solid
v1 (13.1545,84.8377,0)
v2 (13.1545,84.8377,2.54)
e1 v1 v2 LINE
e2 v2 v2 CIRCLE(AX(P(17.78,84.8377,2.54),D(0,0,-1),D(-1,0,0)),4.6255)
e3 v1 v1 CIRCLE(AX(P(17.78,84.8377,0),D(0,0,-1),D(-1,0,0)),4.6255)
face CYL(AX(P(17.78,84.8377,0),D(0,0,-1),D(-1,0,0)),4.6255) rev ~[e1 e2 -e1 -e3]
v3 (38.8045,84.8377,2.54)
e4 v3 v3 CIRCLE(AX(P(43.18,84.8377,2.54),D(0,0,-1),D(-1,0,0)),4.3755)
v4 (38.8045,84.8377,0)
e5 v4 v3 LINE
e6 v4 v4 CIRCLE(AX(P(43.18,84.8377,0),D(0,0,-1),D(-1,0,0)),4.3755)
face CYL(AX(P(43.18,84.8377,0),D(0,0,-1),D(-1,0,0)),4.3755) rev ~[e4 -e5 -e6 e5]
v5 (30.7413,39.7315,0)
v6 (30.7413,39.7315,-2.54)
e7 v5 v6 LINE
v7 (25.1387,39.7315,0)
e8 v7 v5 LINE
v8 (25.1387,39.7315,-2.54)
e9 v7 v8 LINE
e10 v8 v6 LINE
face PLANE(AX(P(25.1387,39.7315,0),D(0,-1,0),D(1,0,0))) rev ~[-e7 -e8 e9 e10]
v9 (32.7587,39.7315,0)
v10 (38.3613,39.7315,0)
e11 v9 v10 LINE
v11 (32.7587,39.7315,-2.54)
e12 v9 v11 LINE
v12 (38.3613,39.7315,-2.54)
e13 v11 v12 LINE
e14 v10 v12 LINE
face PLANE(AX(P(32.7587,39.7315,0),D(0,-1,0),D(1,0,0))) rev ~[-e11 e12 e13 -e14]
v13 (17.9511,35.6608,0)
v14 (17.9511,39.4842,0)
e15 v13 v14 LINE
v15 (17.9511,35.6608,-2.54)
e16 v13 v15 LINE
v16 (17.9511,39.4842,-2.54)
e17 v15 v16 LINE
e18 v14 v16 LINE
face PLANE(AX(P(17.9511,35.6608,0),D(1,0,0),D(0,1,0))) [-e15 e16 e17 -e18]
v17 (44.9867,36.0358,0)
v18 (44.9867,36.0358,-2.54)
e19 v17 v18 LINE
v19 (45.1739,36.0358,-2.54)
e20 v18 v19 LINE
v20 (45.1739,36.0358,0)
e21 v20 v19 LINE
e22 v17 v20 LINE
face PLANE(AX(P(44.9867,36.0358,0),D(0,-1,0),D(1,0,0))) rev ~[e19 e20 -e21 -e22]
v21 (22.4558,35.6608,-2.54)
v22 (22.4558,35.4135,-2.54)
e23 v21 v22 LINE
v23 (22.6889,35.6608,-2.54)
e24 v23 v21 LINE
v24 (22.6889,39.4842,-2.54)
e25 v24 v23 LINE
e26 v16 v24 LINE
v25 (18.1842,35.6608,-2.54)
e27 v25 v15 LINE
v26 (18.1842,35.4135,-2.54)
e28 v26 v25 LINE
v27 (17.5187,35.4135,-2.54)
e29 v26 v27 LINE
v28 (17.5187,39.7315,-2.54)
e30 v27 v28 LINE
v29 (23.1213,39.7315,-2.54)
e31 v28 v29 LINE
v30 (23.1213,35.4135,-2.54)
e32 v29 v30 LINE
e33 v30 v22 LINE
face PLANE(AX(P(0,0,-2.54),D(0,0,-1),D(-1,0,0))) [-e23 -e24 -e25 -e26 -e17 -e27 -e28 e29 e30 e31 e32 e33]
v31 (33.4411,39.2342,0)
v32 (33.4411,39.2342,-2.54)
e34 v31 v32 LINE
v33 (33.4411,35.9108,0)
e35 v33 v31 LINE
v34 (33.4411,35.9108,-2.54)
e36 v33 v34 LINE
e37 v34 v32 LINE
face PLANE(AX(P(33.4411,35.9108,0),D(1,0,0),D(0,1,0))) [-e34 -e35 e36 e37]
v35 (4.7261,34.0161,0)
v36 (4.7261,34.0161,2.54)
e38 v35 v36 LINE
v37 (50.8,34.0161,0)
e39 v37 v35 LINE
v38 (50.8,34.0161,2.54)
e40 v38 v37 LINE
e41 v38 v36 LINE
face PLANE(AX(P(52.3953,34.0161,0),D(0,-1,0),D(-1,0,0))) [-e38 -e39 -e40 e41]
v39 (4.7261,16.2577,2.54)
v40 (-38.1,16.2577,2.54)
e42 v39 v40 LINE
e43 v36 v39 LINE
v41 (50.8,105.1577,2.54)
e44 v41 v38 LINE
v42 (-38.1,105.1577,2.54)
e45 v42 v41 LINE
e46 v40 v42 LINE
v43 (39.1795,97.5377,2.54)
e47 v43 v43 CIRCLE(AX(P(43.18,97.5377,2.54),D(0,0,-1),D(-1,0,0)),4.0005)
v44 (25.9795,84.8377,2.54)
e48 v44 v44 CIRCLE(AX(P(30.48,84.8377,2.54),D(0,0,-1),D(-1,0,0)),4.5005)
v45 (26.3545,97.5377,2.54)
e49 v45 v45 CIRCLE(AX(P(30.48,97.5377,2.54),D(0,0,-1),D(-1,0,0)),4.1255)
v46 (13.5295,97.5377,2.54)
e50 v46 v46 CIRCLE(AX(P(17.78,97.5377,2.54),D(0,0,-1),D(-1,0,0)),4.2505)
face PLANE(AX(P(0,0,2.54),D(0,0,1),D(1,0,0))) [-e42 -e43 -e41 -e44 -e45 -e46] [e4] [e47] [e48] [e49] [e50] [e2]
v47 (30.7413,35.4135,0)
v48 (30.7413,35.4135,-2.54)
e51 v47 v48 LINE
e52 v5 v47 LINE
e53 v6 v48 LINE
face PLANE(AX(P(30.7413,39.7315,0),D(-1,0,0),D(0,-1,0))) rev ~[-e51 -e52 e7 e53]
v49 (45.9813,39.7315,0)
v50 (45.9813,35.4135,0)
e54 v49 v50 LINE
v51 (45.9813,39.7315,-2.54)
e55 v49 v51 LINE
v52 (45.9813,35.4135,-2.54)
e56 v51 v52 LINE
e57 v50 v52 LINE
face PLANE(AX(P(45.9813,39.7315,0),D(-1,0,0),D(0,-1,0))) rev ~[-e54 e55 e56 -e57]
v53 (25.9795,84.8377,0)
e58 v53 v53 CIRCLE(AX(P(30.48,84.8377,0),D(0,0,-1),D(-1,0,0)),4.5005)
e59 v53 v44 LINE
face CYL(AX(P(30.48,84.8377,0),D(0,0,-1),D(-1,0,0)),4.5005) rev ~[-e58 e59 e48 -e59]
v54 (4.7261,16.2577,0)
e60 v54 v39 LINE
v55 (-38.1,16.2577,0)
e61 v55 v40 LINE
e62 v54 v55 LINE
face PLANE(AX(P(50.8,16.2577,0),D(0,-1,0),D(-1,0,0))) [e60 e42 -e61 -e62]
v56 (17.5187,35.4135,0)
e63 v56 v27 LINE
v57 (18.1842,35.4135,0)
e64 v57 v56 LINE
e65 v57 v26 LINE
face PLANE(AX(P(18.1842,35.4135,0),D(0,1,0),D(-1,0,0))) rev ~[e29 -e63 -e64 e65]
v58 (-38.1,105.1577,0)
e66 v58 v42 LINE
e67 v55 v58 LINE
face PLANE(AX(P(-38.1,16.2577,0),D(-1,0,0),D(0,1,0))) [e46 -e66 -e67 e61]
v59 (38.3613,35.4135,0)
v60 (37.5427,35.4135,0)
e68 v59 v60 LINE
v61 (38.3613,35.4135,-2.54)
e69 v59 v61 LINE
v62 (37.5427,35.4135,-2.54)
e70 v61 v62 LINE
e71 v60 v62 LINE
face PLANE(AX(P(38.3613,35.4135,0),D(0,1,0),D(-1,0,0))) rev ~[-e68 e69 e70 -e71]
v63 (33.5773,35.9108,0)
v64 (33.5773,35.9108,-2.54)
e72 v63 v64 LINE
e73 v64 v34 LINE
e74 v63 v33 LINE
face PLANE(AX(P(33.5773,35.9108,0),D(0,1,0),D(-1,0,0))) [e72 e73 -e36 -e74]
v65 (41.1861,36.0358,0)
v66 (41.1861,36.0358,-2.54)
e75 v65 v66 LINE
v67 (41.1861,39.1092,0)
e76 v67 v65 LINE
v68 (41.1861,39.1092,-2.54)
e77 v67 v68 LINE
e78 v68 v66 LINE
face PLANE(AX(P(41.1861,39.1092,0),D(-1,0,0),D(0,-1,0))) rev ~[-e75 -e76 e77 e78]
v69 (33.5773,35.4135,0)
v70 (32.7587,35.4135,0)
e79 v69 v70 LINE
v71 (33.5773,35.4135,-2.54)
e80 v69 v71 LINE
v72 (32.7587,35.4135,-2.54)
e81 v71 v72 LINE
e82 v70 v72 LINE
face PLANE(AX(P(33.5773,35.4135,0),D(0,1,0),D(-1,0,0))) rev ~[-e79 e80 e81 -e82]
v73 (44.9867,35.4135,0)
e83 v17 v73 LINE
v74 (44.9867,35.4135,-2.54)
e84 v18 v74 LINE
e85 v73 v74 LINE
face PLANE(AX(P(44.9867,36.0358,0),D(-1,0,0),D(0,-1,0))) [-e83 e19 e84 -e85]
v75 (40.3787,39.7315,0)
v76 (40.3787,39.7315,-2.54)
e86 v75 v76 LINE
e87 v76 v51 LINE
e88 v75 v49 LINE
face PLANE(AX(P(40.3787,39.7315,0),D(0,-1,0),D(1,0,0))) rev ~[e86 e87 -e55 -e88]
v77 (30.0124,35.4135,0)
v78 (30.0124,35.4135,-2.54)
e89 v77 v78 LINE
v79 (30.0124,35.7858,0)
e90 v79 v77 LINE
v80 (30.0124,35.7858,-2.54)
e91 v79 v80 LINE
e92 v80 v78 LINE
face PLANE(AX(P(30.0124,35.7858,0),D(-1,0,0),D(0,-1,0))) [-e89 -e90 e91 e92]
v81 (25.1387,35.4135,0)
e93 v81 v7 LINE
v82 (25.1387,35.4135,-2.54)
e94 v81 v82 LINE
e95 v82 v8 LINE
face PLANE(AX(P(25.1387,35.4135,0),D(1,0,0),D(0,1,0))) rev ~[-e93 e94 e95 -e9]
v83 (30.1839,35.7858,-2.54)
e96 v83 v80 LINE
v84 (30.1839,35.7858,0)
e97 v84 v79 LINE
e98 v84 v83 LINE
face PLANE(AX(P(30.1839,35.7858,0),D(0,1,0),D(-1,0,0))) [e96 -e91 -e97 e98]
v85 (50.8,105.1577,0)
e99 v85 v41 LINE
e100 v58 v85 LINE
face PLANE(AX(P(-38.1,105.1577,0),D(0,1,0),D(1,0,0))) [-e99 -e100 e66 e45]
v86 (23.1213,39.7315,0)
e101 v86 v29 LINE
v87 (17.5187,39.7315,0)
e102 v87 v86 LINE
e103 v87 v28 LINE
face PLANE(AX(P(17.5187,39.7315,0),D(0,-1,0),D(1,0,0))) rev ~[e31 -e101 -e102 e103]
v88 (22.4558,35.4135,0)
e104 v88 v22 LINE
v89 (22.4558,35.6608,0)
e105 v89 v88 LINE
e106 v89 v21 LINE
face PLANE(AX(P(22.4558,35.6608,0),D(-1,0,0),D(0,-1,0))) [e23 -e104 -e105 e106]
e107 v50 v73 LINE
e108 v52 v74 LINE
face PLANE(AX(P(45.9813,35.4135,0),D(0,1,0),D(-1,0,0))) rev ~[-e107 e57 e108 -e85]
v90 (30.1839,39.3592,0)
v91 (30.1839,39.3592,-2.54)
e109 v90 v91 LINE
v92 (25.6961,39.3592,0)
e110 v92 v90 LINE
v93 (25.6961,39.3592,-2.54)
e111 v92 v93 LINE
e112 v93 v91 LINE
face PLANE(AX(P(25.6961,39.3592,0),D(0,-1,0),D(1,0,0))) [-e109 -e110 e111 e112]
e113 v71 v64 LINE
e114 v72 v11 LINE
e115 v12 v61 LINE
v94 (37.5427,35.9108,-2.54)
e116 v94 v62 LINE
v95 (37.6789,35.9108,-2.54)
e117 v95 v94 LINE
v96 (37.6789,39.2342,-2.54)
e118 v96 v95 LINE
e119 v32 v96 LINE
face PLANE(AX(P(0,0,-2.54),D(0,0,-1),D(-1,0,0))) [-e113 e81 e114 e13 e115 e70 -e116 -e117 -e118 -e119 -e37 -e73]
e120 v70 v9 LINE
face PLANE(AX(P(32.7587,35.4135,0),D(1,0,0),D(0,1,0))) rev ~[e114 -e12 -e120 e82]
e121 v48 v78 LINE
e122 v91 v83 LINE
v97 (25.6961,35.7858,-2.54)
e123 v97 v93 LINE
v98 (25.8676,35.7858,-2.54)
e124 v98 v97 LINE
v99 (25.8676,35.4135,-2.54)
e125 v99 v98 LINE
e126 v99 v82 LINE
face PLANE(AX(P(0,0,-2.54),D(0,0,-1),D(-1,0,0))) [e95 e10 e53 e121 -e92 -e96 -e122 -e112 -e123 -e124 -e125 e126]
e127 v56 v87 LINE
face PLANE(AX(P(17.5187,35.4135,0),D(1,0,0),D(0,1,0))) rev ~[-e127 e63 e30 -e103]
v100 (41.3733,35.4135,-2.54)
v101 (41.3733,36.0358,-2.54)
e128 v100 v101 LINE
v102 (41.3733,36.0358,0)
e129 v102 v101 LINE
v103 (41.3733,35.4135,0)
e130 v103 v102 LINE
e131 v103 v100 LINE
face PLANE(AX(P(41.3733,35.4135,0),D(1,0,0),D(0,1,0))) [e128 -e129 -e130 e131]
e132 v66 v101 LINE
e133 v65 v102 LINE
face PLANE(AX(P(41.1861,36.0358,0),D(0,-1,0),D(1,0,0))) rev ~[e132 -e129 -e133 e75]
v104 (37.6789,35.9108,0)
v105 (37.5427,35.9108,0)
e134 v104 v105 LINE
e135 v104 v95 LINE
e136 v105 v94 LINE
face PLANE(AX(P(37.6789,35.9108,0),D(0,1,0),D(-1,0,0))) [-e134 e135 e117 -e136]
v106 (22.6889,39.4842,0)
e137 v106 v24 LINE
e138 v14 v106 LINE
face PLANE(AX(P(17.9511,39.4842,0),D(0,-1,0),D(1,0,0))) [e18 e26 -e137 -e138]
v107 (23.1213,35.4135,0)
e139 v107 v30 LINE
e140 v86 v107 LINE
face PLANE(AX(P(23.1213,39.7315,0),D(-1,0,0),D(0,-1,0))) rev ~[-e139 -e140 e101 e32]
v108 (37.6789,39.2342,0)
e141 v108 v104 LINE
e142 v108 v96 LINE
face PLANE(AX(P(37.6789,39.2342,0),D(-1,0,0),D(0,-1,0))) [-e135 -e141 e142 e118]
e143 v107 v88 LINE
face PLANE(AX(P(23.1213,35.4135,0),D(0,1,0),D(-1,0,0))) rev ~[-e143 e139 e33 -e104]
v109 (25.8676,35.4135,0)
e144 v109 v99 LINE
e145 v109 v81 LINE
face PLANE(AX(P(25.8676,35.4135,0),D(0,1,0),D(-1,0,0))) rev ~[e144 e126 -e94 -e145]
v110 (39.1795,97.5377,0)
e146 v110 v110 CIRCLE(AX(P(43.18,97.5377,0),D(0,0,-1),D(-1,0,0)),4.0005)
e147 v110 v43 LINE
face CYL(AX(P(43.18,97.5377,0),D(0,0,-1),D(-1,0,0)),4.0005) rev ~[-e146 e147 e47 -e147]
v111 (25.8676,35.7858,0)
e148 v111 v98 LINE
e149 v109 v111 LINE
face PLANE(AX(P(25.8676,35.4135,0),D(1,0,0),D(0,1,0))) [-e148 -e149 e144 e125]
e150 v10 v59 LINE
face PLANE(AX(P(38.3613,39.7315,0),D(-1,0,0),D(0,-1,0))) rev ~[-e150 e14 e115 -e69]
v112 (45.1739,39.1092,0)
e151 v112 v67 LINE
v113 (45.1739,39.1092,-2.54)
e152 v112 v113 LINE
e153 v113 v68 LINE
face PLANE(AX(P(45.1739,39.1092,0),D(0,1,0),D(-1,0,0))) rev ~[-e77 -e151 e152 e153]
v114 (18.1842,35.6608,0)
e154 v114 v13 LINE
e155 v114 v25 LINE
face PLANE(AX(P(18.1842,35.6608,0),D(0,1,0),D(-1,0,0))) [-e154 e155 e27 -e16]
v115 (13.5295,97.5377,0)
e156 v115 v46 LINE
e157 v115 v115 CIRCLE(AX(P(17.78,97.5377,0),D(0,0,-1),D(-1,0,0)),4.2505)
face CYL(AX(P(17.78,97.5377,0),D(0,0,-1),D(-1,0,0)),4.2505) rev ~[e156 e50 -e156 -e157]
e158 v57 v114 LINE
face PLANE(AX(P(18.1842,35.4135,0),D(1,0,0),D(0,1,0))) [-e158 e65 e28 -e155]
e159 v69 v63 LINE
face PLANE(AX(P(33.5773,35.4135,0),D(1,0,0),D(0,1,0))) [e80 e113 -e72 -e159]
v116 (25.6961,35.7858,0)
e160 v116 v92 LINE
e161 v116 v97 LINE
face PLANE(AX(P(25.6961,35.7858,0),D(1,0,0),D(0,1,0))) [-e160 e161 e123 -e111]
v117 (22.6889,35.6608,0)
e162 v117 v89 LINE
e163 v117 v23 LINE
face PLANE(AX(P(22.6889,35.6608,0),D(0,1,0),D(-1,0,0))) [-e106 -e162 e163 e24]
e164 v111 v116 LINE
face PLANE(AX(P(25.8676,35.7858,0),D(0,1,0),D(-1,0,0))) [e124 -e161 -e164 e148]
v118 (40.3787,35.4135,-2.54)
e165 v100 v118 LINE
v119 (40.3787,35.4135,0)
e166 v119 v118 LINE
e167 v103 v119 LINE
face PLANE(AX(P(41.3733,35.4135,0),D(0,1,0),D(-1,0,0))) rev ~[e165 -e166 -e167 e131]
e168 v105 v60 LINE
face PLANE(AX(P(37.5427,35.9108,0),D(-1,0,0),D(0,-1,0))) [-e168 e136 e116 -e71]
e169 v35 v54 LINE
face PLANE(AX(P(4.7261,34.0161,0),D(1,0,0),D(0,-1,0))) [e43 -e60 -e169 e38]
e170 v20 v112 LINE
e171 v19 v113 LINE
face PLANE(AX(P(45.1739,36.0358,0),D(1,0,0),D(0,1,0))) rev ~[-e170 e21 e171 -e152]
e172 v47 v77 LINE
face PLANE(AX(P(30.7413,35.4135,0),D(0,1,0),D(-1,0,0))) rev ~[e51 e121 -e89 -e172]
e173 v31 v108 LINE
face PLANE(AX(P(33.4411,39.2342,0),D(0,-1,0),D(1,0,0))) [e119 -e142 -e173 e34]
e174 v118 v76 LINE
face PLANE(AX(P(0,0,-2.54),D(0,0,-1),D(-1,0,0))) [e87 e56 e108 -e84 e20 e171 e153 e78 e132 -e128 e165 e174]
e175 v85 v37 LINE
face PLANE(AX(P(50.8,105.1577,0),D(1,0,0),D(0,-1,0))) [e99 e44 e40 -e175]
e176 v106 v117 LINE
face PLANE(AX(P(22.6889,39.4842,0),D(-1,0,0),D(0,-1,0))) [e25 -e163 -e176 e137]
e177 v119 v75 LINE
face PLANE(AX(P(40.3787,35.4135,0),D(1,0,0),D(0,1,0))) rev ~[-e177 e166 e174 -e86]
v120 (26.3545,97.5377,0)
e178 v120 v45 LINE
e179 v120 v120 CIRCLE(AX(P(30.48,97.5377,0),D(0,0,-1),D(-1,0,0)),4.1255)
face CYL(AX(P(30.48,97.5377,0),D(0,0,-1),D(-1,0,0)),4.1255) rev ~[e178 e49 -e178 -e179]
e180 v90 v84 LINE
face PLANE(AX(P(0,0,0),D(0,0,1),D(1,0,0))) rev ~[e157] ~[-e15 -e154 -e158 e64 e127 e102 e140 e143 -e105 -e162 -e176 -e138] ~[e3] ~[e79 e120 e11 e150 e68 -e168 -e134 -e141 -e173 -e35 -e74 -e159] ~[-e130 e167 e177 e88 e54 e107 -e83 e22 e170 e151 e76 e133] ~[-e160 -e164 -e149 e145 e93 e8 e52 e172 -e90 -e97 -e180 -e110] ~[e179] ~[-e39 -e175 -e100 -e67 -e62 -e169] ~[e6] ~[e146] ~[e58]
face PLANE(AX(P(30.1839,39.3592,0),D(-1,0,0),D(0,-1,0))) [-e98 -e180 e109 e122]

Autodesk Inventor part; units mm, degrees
ref_plane "YZ Plane" through (0, 0, 0) normal (1, 0, 0) x (0, 1, 0)
ref_plane "XZ Plane" through (0, 0, 0) normal (0, 1, 0) x (-1, 0, 0)
ref_plane "XY Plane" through (0, 0, 0) normal (0, 0, 1) x (1, 0, 0)
sketch "Sketch2" plane through (0, 0, 0) normal (0, 0, 1) x (1, 0, 0)
  line L0 (-38.1, 105.1577) -> (50.8, 105.1577)
  line L1 (50.8, 105.1577) -> (50.8, 16.2577)
  line L2 (50.8, 16.2577) -> (-38.1, 16.2577)
  line L3 (-38.1, 16.2577) -> (-38.1, 105.1577)
  point P0 (0, 0)
  dimension "d45" = 88.9
  dimension "d46" = 88.9
extrude "Extrusion1" add sketch "Sketch2" along normal blind 2.54
sketch "Sketch3" plane through (0, 0, 0) normal (0, 0, -1) x (-1, 0, 0)
  circle A0 centre (-43.18, 97.5377) radius 4.0005
  line L0 (-50.8, 16.2577) -> (-50.8, 105.1577) projected
  line L1 (-50.8, 105.1577) -> (38.1, 105.1577) projected
  circle A1 centre (-43.18, 97.5377) radius 5.2705
  line L2 (38.1, 105.1577) -> (38.1, 16.2577) projected
  line L3 (38.1, 16.2577) -> (-50.8, 16.2577) projected
  circle A2 centre (-43.18, 84.8377) radius 5.2705
  circle A3 centre (-30.48, 97.5377) radius 5.2705
  circle A4 centre (-30.48, 84.8377) radius 5.2705
  circle A5 centre (-17.78, 97.5377) radius 5.2705
  circle A6 centre (-17.78, 84.8377) radius 5.2705
  line L4 (-45.1739, 77.2092) -> (-41.1861, 77.2092)
  line L5 (-41.1861, 77.2092) -> (-41.1861, 74.1358)
  line L6 (-41.1861, 74.1358) -> (-45.1739, 74.1358)
  line L7 (-45.1739, 74.1358) -> (-45.1739, 77.2092)
  line L8 (-45.1739, 77.2092) -> (-41.1861, 74.1358) construction
  line L9 (-41.1861, 77.2092) -> (-45.1739, 74.1358) construction
  line L10 (-45.9813, 73.5135) -> (-40.3787, 73.5135)
  line L11 (-40.3787, 73.5135) -> (-40.3787, 77.8315)
  line L12 (-40.3787, 77.8315) -> (-45.9813, 77.8315)
  line L13 (-45.9813, 77.8315) -> (-45.9813, 73.5135)
  line L14 (-45.9813, 73.5135) -> (-40.3787, 77.8315) construction
  line L15 (-40.3787, 73.5135) -> (-45.9813, 77.8315) construction
  circle A7 centre (-30.48, 97.5377) radius 4.1255
  circle A8 centre (-17.78, 97.5377) radius 4.2505
  circle A9 centre (-43.18, 84.8377) radius 4.3755
  circle A10 centre (-30.48, 84.8377) radius 4.5005
  circle A11 centre (-17.78, 84.8377) radius 4.6255
  line L16 (-32.7587, 77.8315) -> (-38.3613, 77.8315)
  line L17 (-38.3613, 77.8315) -> (-38.3613, 73.5135)
  line L18 (-38.3613, 73.5135) -> (-32.7587, 73.5135)
  line L19 (-32.7587, 73.5135) -> (-32.7587, 77.8315)
  line L20 (-25.1387, 77.8315) -> (-30.7413, 77.8315)
  line L21 (-30.7413, 77.8315) -> (-30.7413, 73.5135)
  line L22 (-30.7413, 73.5135) -> (-25.1387, 73.5135)
  line L23 (-25.1387, 73.5135) -> (-25.1387, 77.8315)
  line L24 (-17.5187, 77.8315) -> (-23.1213, 77.8315)
  line L25 (-23.1213, 77.8315) -> (-23.1213, 73.5135)
  line L26 (-23.1213, 73.5135) -> (-17.5187, 73.5135)
  line L27 (-17.5187, 73.5135) -> (-17.5187, 77.8315)
  line L28 (-9.8987, 77.8315) -> (-15.5013, 77.8315)
  line L29 (-15.5013, 77.8315) -> (-15.5013, 73.5135)
  line L30 (-15.5013, 73.5135) -> (-9.8987, 73.5135)
  line L31 (-9.8987, 73.5135) -> (-9.8987, 77.8315)
  line L32 (-37.6789, 74.0108) -> (-33.4411, 74.0108)
  line L33 (-33.4411, 74.0108) -> (-33.4411, 77.3342)
  line L34 (-33.4411, 77.3342) -> (-37.6789, 77.3342)
  line L35 (-37.6789, 77.3342) -> (-37.6789, 74.0108)
  line L36 (-37.6789, 74.0108) -> (-33.4411, 77.3342) construction
  line L37 (-33.4411, 74.0108) -> (-37.6789, 77.3342) construction
  line L38 (-30.1839, 73.8858) -> (-25.6961, 73.8858)
  line L39 (-25.6961, 73.8858) -> (-25.6961, 77.4592)
  line L40 (-25.6961, 77.4592) -> (-30.1839, 77.4592)
  line L41 (-30.1839, 77.4592) -> (-30.1839, 73.8858)
  line L42 (-30.1839, 73.8858) -> (-25.6961, 77.4592) construction
  line L43 (-25.6961, 73.8858) -> (-30.1839, 77.4592) construction
  line L44 (-22.6889, 73.7608) -> (-17.9511, 73.7608)
  line L45 (-17.9511, 73.7608) -> (-17.9511, 77.5842)
  line L46 (-17.9511, 77.5842) -> (-22.6889, 77.5842)
  line L47 (-22.6889, 77.5842) -> (-22.6889, 73.7608)
  line L48 (-22.6889, 73.7608) -> (-17.9511, 77.5842) construction
  line L49 (-17.9511, 73.7608) -> (-22.6889, 77.5842) construction
  line L50 (-45.1739, 73.4552) -> (-41.1861, 73.4552)
  line L51 (-41.1861, 73.4552) -> (-41.1861, 74.8164)
  line L52 (-41.1861, 74.8164) -> (-45.1739, 74.8164)
  line L53 (-45.1739, 74.8164) -> (-45.1739, 73.4552)
  line L54 (-45.1739, 73.4552) -> (-41.1861, 74.8164) construction
  line L55 (-41.1861, 73.4552) -> (-45.1739, 74.8164) construction
  point P0 (0, 0)
  point P1 (-43.18, 75.6725)
  point P2 (-43.18, 75.6725)
  point P3 (-35.56, 75.6725)
  point P4 (-27.94, 75.6725)
  point P5 (-20.32, 75.6725)
  point P6 (-12.7, 75.6725)
  point P7 (-43.18, 74.1358)
  dimension "d49" = 7.62
  dimension "d50" = 7.62
  dimension "d51" = 1.27
  dimension "d56" = 12.7
  dimension "d59" = 12.7
  dimension "d64" = 3.9878
  dimension "d65" = 3.0734
  dimension "d66" = 9.1652
  dimension "d67" = 2.159
  dimension "d77" = 8.001
  dimension "d78" = 8.251
  dimension "d80" = 8.501
  dimension "d81" = 8.751
  dimension "d82" = 9.001
  dimension "d83" = 9.251
  dimension "d90" = 7.62
  dimension "d95" = 4.2378
  dimension "d96" = 4.4878
  dimension "d97" = 4.7378
  dimension "d98" = 3.3234
  dimension "d99" = 3.5734
sketch "Sketch4" plane through (0, 0, 0) normal (0, 0, -1) x (-1, 0, 0)
  line L0 (-50.8, 105.1577) -> (38.1, 105.1577) projected
  line L1 (-50.8, 16.2577) -> (-50.8, 105.1577) projected
  line L2 (-50.8, 105.1577) -> (-48.5295, 105.1577)
  line L3 (-48.5295, 105.1577) -> (-48.5295, 103.1024)
  line L4 (-48.5295, 103.1024) -> (-50.8, 103.1024)
  line L5 (-50.8, 103.1024) -> (-50.8, 105.1577)
  point P0 (0, 0)
extrude "Extrusion4" cut sketch "Sketch3" against normal blind 9.001 contours A0 | A7 | A8 | A9 | A10 | A11
sketch "Sketch5" plane through (0, 0, 0) normal (0, 0, -1) x (-1, 0, 0)
  line L0 (-45.1739, 39.1092) -> (-41.1861, 39.1092)
  line L1 (-41.1861, 39.1092) -> (-41.1861, 36.0358)
  line L2 (-41.1861, 36.0358) -> (-45.1739, 36.0358)
  line L3 (-45.1739, 36.0358) -> (-45.1739, 39.1092)
  line L4 (-45.1739, 39.1092) -> (-41.1861, 36.0358) construction
  line L5 (-41.1861, 39.1092) -> (-45.1739, 36.0358) construction
  line L6 (-45.9813, 35.4135) -> (-40.3787, 35.4135)
  line L7 (-40.3787, 35.4135) -> (-40.3787, 39.7315)
  line L8 (-40.3787, 39.7315) -> (-45.9813, 39.7315)
  line L9 (-45.9813, 39.7315) -> (-45.9813, 35.4135)
  line L10 (-45.9813, 35.4135) -> (-40.3787, 39.7315) construction
  line L11 (-40.3787, 35.4135) -> (-45.9813, 39.7315) construction
  line L12 (-32.7587, 39.7315) -> (-38.3613, 39.7315)
  line L13 (-38.3613, 39.7315) -> (-38.3613, 35.4135)
  line L14 (-38.3613, 35.4135) -> (-32.7587, 35.4135)
  line L15 (-32.7587, 35.4135) -> (-32.7587, 39.7315)
  line L16 (-25.1387, 39.7315) -> (-30.7413, 39.7315)
  line L17 (-30.7413, 39.7315) -> (-30.7413, 35.4135)
  line L18 (-30.7413, 35.4135) -> (-25.1387, 35.4135)
  line L19 (-25.1387, 35.4135) -> (-25.1387, 39.7315)
  line L20 (-17.5187, 39.7315) -> (-23.1213, 39.7315)
  line L21 (-23.1213, 39.7315) -> (-23.1213, 35.4135)
  line L22 (-23.1213, 35.4135) -> (-17.5187, 35.4135)
  line L23 (-17.5187, 35.4135) -> (-17.5187, 39.7315)
  line L24 (-9.8987, 39.7315) -> (-15.5013, 39.7315)
  line L25 (-15.5013, 39.7315) -> (-15.5013, 35.4135)
  line L26 (-15.5013, 35.4135) -> (-9.8987, 35.4135)
  line L27 (-37.6789, 35.9108) -> (-33.4411, 35.9108)
  line L28 (-33.4411, 35.9108) -> (-33.4411, 39.2342)
  line L29 (-33.4411, 39.2342) -> (-37.6789, 39.2342)
  line L30 (-37.6789, 39.2342) -> (-37.6789, 35.9108)
  line L31 (-37.6789, 35.9108) -> (-33.4411, 39.2342) construction
  line L32 (-33.4411, 35.9108) -> (-37.6789, 39.2342) construction
  line L33 (-30.1839, 35.7858) -> (-25.6961, 35.7858)
  line L34 (-25.6961, 35.7858) -> (-25.6961, 39.3592)
  line L35 (-25.6961, 39.3592) -> (-30.1839, 39.3592)
  line L36 (-30.1839, 39.3592) -> (-30.1839, 35.7858)
  line L37 (-30.1839, 35.7858) -> (-25.6961, 39.3592) construction
  line L38 (-25.6961, 35.7858) -> (-30.1839, 39.3592) construction
  line L39 (-22.6889, 35.6608) -> (-17.9511, 35.6608)
  line L40 (-17.9511, 35.6608) -> (-17.9511, 39.4842)
  line L41 (-17.9511, 39.4842) -> (-22.6889, 39.4842)
  line L42 (-22.6889, 39.4842) -> (-22.6889, 35.6608)
  line L43 (-22.6889, 35.6608) -> (-17.9511, 39.4842) construction
  line L44 (-17.9511, 35.6608) -> (-22.6889, 39.4842) construction
  line L45 (-45.1516, 35.2931) -> (-41.1861, 36.7869) construction
  line L46 (-41.1861, 35.3552) -> (-45.1739, 36.7164) construction
  line L47 (-44.9867, 35.3552) -> (-41.3733, 35.3552)
  line L48 (-41.3733, 35.3552) -> (-41.3733, 36.7164)
  line L49 (-41.3733, 36.7164) -> (-44.9867, 36.7164)
  line L50 (-44.9867, 36.7164) -> (-44.9867, 35.3552)
  line L51 (-44.9867, 35.3552) -> (-41.3733, 36.7164) construction
  line L52 (-41.3733, 35.3552) -> (-44.9867, 36.7164) construction
  line L53 (-37.5427, 35.3747) -> (-33.5773, 35.3747)
  line L54 (-33.5773, 35.3747) -> (-33.5773, 36.447)
  line L55 (-33.5773, 36.447) -> (-37.5427, 36.447)
  line L56 (-37.5427, 36.447) -> (-37.5427, 35.3747)
  line L57 (-37.5427, 35.3747) -> (-33.5773, 36.447) construction
  line L58 (-33.5773, 35.3747) -> (-37.5427, 36.447) construction
  line L59 (-30.0124, 35.3468) -> (-25.8676, 35.3468)
  line L60 (-25.8676, 35.3468) -> (-25.8676, 36.2248)
  line L61 (-25.8676, 36.2248) -> (-30.0124, 36.2248)
  line L62 (-30.0124, 36.2248) -> (-30.0124, 35.3468)
  line L63 (-30.0124, 35.3468) -> (-25.8676, 36.2248) construction
  line L64 (-25.8676, 35.3468) -> (-30.0124, 36.2248) construction
  line L65 (-22.4558, 35.2013) -> (-18.1842, 35.2013)
  line L66 (-18.1842, 35.2013) -> (-18.1842, 36.1203)
  line L67 (-18.1842, 36.1203) -> (-22.4558, 36.1203)
  line L68 (-22.4558, 36.1203) -> (-22.4558, 35.2013)
  line L69 (-22.4558, 35.2013) -> (-18.1842, 36.1203) construction
  line L70 (-18.1842, 35.2013) -> (-22.4558, 36.1203) construction
  point P0 (0, 0)
  point P1 (-43.18, 37.5725)
  point P2 (-43.18, 37.5725)
  point P3 (-35.56, 37.5725)
  point P4 (-27.94, 37.5725)
  point P5 (-20.32, 37.5725)
  point P6 (-12.7, 37.5725)
  point P7 (-43.18, 36.0358)
  point P8 (-35.56, 35.9108)
  point P9 (-27.94, 35.7858)
  point P10 (-20.32, 35.6608)
  point P11 (-22.4558, 35.4135)
  point P12 (-22.4558, 35.6608)
  point P13 (-18.1842, 35.6608)
  point P14 (-18.1842, 35.4135)
  point P15 (-30.0124, 35.4135)
  point P16 (-30.0124, 35.7858)
  point P17 (-25.8676, 35.7858)
  point P18 (-25.8676, 35.4135)
  point P19 (-37.5427, 35.4135)
  point P20 (-37.5427, 35.9108)
  point P21 (-33.5773, 35.9108)
  point P22 (-33.5773, 35.4135)
  point P23 (-44.9867, 35.4135)
  point P24 (-44.9867, 36.0358)
  point P25 (-41.3733, 36.0358)
  point P26 (-41.3733, 35.4135)
  dimension "d102" = 3.0734
  dimension "d103" = 2.159
  dimension "d104" = 7.62
  dimension "d105" = 4.2378
  dimension "d106" = 4.4878
  dimension "d107" = 4.7378
  dimension "d108" = 3.3234
  dimension "d109" = 3.5734
extrude "Extrusion5" add sketch "Sketch5" along normal blind 2.54 contours L3 L2 L50 L6 L9 L8 L7 L48 L1 L0 | L15 L14 L54 L27 L28 L29 L30 L56 L13 L12 | L19 L18 L60 L33 L34 L35 L36 L62 L17 L16 | L23 L22 L66 L39 L40 L41 L42 L68 L21 L20
sketch "Sketch6" plane through (0, 0, 0) normal (0, 0, -1) x (-1, 0, 0)
  line L0 (-52.3953, 34.0161) -> (-4.7261, 34.0161)
  line L1 (-4.7261, 34.0161) -> (-4.7261, 12.2528)
  line L2 (-4.7261, 12.2528) -> (-52.3953, 12.2528)
  line L3 (-52.3953, 12.2528) -> (-52.3953, 34.0161)
  point P0 (0, 0)
extrude "Extrusion6" cut sketch "Sketch6" against normal blind 2.54
sketch "Sketch7" plane through (0, 0, 0) normal (0, 0, -1) x (-1, 0, 0)
  point P0 (0, 0)
equation "\"d86\" = d82"
properties part number "magnet_hall_testing_w_trucks"
